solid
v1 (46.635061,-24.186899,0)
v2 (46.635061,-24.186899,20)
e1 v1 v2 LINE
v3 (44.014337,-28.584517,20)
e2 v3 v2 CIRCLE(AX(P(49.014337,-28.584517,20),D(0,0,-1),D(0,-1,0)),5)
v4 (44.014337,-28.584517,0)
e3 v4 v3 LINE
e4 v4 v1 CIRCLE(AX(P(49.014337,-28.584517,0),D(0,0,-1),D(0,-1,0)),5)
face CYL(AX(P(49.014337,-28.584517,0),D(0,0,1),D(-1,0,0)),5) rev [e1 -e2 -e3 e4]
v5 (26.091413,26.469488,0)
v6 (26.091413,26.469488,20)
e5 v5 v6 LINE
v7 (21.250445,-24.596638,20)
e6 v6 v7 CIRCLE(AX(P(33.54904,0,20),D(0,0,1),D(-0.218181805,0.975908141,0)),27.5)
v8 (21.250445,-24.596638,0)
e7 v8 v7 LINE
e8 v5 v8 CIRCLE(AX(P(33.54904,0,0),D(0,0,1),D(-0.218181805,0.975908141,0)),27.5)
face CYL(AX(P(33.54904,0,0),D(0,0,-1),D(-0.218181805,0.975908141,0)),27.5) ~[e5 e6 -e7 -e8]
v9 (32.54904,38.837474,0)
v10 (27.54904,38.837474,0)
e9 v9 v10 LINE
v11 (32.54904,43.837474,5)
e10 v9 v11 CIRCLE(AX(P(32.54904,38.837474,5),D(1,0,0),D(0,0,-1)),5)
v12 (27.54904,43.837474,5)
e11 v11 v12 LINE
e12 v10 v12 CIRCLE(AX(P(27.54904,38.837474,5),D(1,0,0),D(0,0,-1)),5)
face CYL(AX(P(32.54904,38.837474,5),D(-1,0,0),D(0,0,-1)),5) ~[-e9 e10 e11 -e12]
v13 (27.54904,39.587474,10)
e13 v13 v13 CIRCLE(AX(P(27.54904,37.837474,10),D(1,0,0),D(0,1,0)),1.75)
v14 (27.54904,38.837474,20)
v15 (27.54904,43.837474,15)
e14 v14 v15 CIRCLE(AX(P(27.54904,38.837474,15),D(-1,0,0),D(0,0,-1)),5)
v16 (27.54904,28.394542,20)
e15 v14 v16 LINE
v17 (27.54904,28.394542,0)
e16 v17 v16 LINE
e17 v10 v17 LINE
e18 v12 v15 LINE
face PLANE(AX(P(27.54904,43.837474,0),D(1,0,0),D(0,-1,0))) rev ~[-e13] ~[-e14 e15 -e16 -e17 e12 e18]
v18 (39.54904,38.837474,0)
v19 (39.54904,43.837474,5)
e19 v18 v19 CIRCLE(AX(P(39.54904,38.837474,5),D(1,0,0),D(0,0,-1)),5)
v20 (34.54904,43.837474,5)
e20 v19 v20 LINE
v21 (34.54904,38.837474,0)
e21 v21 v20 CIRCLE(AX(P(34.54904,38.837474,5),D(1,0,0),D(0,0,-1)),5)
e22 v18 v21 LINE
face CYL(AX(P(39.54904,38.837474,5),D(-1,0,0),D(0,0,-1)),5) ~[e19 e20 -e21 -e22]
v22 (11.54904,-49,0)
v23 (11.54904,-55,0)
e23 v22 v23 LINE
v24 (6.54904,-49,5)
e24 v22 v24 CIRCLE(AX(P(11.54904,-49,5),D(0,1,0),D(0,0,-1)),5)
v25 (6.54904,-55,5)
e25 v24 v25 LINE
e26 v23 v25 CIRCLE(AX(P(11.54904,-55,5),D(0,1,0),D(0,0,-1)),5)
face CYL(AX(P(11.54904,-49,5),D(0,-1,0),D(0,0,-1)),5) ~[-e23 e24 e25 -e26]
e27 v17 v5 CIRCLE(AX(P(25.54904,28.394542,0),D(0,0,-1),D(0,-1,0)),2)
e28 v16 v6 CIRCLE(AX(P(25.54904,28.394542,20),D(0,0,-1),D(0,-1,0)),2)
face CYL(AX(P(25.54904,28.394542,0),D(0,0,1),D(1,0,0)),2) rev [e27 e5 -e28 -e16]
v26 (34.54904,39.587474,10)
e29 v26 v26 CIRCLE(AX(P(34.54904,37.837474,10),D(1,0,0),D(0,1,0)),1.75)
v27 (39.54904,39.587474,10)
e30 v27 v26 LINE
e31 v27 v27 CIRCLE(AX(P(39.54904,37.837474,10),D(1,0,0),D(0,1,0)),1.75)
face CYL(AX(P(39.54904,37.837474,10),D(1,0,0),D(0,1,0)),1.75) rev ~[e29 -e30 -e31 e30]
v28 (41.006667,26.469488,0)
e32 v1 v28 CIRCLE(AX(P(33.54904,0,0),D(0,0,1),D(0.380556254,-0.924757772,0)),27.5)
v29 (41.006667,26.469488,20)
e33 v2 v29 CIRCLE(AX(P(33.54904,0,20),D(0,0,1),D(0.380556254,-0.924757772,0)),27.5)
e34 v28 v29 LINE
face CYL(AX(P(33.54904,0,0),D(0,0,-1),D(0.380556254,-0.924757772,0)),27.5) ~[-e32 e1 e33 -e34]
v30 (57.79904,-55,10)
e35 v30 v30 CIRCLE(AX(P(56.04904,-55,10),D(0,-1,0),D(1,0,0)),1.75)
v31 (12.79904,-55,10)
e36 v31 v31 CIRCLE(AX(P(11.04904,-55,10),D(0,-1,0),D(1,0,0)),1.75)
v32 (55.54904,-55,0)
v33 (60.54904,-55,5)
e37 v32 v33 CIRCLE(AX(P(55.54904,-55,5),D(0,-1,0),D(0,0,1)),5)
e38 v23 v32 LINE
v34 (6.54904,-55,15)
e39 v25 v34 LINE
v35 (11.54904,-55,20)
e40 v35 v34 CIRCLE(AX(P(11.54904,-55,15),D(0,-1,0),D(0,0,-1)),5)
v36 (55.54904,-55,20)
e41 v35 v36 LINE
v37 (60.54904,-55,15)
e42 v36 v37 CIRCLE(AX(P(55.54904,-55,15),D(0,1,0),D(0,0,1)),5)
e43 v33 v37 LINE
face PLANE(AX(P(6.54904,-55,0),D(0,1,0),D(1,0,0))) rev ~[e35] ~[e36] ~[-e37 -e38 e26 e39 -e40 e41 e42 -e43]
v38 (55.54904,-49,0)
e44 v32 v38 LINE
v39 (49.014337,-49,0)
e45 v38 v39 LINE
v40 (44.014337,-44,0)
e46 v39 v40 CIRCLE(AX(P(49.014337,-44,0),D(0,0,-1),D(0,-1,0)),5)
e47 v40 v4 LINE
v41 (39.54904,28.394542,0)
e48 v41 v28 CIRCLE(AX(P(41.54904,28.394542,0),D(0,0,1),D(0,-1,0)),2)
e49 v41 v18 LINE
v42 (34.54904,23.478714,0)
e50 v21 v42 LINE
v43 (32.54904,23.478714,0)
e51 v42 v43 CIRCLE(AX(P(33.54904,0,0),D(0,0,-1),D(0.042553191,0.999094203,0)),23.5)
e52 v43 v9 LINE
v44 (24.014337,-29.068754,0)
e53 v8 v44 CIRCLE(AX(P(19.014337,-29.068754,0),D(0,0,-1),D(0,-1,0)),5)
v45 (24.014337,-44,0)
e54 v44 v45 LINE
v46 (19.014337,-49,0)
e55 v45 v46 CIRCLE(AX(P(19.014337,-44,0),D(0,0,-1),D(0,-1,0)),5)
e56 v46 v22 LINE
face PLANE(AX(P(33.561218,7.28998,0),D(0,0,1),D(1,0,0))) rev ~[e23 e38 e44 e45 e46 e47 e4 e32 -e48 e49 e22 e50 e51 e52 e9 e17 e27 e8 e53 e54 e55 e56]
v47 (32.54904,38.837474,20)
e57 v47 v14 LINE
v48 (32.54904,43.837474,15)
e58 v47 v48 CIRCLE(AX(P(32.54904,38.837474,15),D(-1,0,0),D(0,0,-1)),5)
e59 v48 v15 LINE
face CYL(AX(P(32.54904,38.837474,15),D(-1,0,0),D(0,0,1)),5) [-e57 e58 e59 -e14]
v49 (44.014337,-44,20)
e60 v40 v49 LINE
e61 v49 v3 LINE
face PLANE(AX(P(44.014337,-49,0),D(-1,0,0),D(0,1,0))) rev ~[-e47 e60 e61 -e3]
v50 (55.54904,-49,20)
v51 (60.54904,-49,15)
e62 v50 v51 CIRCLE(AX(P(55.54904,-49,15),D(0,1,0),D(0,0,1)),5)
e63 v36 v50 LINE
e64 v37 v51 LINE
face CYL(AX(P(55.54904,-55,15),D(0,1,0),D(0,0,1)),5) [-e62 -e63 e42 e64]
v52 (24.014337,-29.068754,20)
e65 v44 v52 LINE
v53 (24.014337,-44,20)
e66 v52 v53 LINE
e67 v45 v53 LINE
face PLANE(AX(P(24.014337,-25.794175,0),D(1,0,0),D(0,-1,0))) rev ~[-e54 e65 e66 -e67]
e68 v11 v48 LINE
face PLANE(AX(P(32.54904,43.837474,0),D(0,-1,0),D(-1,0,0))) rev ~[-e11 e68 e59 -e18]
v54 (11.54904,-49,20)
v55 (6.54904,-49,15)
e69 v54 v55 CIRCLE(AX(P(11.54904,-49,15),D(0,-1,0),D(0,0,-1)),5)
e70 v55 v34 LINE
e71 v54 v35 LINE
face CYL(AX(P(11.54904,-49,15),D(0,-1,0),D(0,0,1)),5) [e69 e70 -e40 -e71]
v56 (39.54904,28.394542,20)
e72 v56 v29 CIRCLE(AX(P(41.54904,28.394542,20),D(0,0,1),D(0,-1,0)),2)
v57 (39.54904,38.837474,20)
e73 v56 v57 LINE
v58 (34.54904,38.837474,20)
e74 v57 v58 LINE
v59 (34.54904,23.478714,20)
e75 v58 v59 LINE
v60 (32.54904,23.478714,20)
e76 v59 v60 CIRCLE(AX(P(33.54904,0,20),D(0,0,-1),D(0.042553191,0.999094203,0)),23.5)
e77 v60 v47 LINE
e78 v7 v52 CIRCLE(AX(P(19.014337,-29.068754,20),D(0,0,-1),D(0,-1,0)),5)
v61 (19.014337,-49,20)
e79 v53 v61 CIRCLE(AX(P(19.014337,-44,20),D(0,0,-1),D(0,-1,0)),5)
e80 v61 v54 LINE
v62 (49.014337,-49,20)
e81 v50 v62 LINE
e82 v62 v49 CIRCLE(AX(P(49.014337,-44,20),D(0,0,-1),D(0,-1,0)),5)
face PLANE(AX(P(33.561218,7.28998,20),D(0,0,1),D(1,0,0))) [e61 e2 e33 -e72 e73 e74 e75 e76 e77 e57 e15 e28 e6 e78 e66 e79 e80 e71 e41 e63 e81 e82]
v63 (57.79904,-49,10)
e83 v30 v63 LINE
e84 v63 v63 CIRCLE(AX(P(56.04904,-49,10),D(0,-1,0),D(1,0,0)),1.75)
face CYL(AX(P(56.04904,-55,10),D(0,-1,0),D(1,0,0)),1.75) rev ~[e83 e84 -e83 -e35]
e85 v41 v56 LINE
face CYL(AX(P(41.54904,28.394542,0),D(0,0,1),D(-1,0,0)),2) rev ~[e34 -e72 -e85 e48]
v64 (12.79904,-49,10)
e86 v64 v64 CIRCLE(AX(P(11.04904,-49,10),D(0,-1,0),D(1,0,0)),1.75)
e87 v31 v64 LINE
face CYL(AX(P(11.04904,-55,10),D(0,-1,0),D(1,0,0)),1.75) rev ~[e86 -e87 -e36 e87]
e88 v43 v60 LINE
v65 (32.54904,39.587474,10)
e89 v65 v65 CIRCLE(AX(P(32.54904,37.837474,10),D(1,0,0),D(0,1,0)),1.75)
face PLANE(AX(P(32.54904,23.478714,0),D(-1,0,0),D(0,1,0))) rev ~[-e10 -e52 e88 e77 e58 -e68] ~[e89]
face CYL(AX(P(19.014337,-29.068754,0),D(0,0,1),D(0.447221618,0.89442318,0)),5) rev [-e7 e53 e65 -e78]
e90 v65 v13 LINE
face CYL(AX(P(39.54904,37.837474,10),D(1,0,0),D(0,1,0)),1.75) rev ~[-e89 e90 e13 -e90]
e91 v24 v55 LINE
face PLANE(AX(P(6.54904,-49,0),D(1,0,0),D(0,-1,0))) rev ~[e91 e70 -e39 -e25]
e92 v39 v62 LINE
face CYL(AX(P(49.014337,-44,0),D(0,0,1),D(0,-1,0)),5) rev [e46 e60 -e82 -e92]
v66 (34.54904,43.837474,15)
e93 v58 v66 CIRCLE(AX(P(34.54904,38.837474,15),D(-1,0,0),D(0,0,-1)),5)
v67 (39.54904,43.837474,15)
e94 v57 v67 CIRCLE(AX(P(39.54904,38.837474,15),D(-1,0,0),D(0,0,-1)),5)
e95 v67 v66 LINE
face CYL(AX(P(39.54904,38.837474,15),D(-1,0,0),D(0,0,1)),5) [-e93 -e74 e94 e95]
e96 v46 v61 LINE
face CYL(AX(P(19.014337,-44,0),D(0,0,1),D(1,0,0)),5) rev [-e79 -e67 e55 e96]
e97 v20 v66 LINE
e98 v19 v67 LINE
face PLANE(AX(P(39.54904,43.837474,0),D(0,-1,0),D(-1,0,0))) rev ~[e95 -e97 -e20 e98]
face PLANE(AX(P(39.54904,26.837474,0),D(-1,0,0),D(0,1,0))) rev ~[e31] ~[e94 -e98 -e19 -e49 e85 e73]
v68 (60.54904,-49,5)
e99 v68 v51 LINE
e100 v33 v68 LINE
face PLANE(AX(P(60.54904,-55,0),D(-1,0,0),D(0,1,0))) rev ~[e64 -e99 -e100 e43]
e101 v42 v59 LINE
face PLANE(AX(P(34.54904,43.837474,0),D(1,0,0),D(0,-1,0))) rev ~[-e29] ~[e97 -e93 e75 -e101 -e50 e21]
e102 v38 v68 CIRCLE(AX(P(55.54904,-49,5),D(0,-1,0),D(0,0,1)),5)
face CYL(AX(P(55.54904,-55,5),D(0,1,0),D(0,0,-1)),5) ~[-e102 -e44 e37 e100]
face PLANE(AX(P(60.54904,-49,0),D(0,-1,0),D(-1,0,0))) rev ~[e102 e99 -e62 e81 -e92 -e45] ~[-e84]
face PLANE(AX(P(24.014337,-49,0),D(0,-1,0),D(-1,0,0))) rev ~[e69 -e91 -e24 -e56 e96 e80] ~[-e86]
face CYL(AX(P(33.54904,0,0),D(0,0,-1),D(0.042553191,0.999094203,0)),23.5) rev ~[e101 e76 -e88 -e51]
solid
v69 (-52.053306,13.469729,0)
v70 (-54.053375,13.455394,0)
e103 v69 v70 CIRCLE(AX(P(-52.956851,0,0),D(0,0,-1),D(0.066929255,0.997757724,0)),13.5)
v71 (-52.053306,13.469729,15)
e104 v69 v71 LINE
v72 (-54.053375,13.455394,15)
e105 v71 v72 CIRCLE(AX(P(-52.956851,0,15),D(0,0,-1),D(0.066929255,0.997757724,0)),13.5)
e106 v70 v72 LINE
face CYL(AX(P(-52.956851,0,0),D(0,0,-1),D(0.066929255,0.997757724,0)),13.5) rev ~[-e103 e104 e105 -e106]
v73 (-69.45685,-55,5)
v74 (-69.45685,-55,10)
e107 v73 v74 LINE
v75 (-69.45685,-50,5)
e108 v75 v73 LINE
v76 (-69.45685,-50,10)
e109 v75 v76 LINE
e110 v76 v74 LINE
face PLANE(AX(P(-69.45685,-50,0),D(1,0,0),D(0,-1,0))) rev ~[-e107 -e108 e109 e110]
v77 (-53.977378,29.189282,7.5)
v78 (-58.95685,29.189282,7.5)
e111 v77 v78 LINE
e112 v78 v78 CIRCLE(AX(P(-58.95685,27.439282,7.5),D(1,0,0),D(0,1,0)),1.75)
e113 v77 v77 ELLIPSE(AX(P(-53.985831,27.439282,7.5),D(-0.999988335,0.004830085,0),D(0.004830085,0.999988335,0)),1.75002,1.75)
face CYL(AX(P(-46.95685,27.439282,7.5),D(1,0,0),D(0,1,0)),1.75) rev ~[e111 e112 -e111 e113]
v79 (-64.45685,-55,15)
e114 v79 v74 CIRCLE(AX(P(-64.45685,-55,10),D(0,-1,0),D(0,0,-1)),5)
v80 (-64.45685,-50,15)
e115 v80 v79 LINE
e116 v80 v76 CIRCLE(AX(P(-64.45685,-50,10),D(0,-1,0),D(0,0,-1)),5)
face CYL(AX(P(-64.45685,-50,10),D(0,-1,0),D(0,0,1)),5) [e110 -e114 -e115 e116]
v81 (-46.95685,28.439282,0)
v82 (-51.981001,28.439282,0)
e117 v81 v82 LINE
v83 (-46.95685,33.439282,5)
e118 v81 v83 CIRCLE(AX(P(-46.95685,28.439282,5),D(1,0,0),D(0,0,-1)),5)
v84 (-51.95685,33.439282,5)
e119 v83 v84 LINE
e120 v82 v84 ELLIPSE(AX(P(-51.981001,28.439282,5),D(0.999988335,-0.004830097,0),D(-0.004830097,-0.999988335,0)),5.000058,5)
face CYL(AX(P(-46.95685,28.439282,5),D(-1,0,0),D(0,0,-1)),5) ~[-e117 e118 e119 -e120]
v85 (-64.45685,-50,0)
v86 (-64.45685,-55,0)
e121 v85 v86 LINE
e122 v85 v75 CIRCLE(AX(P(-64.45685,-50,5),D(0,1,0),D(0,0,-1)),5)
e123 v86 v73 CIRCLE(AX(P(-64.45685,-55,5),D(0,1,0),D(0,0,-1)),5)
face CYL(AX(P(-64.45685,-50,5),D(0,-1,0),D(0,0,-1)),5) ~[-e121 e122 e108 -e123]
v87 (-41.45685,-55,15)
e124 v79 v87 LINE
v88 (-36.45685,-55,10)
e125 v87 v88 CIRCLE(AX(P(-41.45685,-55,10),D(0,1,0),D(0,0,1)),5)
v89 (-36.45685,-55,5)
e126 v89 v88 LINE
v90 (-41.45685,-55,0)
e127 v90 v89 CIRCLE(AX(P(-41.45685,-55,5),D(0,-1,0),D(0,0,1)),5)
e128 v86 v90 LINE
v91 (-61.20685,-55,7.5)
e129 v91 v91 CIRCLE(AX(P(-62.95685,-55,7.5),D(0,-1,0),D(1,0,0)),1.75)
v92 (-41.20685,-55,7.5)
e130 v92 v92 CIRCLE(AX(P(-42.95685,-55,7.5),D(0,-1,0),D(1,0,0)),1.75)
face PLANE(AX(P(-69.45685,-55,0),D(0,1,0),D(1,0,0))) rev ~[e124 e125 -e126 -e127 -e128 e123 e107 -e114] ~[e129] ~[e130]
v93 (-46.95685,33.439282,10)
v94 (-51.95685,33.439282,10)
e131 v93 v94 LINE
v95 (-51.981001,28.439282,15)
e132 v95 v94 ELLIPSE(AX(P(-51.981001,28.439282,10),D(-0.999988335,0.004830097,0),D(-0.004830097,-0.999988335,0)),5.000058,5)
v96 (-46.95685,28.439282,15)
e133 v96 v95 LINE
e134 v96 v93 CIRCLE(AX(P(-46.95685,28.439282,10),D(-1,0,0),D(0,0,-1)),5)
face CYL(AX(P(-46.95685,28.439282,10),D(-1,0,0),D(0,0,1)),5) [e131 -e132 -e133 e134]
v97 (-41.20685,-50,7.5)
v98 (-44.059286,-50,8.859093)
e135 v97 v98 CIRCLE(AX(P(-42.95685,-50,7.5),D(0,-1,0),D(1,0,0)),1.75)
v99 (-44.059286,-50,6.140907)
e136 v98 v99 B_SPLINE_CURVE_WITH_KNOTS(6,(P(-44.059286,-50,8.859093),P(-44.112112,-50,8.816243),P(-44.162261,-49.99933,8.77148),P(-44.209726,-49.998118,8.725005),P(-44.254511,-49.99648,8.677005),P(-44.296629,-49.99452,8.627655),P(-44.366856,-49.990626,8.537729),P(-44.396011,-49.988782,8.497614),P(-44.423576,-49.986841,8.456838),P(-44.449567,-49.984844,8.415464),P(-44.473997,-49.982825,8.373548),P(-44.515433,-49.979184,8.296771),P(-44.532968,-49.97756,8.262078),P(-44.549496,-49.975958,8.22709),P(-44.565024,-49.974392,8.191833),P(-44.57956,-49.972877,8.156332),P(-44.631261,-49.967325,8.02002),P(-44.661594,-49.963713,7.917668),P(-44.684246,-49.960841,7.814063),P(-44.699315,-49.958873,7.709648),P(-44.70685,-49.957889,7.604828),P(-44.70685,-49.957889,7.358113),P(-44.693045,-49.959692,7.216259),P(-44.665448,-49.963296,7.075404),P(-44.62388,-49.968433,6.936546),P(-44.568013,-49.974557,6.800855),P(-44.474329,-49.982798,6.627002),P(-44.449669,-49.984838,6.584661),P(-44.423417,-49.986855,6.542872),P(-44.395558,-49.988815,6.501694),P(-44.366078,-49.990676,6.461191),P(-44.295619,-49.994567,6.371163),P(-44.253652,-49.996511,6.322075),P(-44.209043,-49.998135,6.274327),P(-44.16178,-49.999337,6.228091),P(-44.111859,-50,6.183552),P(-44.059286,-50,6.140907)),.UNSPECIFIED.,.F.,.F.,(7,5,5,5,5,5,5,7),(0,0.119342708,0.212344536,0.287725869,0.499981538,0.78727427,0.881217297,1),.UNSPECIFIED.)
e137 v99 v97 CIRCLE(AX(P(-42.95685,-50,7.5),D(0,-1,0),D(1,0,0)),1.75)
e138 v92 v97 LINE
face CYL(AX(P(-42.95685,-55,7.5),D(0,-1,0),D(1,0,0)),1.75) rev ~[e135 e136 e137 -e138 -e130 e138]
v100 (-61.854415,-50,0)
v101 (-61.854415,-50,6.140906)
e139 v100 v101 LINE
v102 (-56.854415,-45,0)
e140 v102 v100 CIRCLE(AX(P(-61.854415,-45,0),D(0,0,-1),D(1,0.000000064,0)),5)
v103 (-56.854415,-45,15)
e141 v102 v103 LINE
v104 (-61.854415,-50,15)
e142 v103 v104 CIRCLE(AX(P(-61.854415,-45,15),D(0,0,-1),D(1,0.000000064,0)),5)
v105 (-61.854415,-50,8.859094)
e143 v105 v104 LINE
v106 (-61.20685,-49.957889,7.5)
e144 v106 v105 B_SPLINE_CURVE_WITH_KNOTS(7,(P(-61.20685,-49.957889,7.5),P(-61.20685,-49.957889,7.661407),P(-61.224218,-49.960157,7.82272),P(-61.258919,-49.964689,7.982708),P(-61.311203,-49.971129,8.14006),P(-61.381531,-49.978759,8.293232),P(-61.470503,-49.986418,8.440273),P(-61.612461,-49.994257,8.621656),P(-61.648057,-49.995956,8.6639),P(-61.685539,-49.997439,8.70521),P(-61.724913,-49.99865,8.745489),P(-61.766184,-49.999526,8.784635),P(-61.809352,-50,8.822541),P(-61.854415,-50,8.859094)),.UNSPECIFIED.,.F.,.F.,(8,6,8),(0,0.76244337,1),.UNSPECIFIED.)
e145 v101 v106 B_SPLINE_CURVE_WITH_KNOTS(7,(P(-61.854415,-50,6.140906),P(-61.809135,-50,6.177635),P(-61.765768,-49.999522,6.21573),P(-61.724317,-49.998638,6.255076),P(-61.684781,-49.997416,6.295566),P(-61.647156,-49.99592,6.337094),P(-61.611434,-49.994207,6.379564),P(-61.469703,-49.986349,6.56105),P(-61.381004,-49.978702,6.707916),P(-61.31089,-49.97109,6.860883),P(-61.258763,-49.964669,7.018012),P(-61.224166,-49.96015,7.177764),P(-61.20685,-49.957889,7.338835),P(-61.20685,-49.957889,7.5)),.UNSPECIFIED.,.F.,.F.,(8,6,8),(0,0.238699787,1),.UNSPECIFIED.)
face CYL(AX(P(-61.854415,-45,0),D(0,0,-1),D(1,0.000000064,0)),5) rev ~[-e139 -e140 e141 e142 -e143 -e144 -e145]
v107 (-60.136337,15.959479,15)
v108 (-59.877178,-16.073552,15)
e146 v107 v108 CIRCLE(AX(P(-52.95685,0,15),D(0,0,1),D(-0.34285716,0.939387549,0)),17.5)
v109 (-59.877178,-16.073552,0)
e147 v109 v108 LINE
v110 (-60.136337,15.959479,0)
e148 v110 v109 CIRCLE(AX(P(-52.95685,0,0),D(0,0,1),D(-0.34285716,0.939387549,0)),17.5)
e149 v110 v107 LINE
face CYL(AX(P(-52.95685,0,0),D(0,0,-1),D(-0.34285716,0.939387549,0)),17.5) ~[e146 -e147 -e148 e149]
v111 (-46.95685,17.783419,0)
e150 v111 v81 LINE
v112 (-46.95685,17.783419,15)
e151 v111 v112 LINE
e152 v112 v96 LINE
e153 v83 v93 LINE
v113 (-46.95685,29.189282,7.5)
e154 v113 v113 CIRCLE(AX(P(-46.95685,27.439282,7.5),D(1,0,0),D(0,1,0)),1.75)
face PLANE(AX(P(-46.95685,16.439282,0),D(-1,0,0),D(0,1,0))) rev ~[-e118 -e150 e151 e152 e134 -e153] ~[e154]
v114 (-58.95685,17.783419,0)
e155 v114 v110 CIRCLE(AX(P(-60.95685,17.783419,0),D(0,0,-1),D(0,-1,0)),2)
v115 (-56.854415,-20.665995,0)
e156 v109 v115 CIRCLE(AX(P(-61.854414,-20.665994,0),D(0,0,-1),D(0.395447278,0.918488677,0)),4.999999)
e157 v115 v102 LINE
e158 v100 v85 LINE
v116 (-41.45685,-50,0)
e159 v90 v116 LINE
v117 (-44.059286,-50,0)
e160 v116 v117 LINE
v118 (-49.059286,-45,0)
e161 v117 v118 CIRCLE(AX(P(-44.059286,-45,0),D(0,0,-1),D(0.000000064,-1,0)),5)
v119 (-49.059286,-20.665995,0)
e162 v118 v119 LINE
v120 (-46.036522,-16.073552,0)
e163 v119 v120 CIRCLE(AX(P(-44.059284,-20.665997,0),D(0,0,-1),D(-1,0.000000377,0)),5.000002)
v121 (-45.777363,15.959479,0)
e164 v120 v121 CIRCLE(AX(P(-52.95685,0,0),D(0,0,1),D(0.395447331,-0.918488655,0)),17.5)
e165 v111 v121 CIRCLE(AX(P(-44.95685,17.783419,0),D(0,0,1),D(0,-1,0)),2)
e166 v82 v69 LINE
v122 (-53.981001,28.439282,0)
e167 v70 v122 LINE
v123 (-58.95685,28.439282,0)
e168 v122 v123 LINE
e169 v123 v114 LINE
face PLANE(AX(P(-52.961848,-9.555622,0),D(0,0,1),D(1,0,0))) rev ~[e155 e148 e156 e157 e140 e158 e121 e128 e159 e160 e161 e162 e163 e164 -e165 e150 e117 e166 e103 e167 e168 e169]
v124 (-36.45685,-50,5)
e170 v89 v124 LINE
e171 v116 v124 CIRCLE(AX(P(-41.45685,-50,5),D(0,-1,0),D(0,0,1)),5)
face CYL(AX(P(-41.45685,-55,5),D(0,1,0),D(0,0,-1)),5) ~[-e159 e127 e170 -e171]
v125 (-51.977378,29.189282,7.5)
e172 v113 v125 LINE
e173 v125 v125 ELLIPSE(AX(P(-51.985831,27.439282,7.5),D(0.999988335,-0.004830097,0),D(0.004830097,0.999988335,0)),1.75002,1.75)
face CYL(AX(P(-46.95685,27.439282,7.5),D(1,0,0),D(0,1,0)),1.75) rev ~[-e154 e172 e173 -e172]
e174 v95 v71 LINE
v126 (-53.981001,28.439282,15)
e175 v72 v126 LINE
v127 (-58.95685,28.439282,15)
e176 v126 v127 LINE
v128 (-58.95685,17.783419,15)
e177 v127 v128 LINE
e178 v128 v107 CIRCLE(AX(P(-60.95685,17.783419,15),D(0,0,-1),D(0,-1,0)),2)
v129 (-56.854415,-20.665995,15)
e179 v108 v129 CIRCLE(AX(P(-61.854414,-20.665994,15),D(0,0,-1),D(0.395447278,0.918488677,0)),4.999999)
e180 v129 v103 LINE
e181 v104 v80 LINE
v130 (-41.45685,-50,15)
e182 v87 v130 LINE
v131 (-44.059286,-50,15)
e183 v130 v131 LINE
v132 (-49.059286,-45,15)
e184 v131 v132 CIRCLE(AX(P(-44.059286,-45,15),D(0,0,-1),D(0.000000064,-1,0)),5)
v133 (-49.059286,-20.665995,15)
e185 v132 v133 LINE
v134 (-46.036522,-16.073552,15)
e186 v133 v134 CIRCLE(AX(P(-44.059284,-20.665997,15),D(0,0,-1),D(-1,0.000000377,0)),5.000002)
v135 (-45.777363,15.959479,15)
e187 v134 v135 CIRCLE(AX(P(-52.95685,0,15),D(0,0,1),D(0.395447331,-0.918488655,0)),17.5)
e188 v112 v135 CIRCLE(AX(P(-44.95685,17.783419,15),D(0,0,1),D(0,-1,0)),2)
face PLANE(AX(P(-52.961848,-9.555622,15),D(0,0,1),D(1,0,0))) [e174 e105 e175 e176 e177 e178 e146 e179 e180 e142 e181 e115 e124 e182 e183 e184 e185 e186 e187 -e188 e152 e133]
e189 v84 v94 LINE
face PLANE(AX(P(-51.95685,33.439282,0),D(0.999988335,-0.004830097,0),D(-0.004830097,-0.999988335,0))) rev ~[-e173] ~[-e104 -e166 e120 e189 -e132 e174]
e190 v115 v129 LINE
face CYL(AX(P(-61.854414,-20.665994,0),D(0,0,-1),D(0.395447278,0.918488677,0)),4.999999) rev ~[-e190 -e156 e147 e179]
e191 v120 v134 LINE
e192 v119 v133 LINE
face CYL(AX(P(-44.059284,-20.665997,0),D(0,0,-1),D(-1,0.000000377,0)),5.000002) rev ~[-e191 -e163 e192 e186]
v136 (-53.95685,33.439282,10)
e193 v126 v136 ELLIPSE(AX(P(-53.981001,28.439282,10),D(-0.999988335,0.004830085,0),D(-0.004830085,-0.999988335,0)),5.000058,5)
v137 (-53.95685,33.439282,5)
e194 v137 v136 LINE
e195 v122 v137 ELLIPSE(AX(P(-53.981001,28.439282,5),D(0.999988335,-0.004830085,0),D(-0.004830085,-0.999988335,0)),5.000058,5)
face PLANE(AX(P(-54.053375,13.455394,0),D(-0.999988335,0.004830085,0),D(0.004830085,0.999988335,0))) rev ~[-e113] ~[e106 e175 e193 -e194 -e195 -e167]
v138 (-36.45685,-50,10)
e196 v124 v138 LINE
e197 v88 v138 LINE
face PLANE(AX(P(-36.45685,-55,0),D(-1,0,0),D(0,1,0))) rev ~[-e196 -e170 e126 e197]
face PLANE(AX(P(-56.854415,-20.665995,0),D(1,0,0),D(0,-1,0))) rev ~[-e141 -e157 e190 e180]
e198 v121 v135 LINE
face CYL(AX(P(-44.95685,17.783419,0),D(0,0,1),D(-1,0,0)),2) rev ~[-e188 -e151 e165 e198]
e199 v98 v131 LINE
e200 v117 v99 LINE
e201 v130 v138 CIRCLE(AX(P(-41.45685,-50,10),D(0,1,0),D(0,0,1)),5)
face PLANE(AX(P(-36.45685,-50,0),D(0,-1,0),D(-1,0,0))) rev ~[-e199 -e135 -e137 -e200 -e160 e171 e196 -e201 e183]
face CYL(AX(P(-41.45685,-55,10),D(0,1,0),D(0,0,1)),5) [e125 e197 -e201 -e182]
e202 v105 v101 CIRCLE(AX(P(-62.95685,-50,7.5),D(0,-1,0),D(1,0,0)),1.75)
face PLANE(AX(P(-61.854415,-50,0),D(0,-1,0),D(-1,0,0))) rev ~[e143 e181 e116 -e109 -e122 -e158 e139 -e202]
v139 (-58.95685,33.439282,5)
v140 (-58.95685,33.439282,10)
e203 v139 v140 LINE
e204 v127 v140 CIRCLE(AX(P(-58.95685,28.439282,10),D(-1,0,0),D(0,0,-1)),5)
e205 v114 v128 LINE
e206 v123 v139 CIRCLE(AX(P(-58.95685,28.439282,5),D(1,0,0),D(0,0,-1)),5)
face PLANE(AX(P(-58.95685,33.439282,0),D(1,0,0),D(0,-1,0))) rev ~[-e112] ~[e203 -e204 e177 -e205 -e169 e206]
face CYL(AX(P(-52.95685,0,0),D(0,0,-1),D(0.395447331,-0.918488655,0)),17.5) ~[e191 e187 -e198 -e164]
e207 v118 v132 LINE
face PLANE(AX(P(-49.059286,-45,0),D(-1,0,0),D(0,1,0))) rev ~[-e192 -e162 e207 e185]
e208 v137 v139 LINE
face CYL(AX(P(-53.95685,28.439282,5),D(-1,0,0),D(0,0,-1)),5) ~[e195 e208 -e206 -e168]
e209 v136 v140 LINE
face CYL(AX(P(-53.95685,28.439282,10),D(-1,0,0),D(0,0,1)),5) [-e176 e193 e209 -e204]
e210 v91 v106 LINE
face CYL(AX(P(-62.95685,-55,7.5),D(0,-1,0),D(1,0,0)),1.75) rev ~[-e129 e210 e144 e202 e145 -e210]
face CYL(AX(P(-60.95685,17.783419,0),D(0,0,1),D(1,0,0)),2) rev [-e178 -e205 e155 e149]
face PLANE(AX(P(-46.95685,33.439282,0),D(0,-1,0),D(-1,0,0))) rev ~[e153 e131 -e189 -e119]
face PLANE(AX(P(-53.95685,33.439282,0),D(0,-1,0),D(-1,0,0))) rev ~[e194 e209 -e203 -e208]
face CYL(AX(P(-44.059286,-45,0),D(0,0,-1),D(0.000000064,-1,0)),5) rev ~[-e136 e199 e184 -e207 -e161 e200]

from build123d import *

# Parameters (mm, degrees)
F1_DEPTH  = 15
F2_R      = 1.75
F3_DEPTH  = 25
F4_R      = 1.75
F5_DEPTH  = 25
F6_R      = 5
F8_DEPTH  = 20
F9_R      = 1.75
F10_DEPTH = 25
F11_R     = 1.75
F12_DEPTH = 25
F13_R     = 5
F14_R     = 2
F14_2_R   = 2
F15_R     = 5


with BuildPart() as f1:
    # F0 (on Top) → F1 (new body)
    with BuildSketch(Plane.XY):
        with BuildLine():
            ThreePointArc((-52.053306, 13.469729), (-52.860094, -13.499653), (-54.053375, 13.455394))
            Line((-54.053375, 13.455394), (-53.95685, 33.439282))
            Line((-53.95685, 33.439282), (-58.95685, 33.439282))
            Line((-58.95685, 33.439282), (-58.95685, 16.439282))
            ThreePointArc((-58.95685, 16.439282), (-70.449843, 0.495167), (-59.877178, -16.073552))
            ThreePointArc((-59.877178, -16.073552), (-57.677922, -17.917012), (-56.854415, -20.665995))
            Line((-56.854415, -20.665995), (-56.854415, -45))
            ThreePointArc((-56.854415, -45), (-58.318881, -48.535534), (-61.854415, -50))
            Line((-61.854415, -50), (-69.45685, -50))
            Line((-69.45685, -50), (-69.45685, -55))
            Line((-69.45685, -55), (-36.45685, -55))
            Line((-36.45685, -55), (-36.45685, -50))
            Line((-36.45685, -50), (-44.059286, -50))
            ThreePointArc((-44.059286, -50), (-47.59482, -48.535534), (-49.059286, -45))
            Line((-49.059286, -45), (-49.059286, -20.665995))
            ThreePointArc((-49.059286, -20.665995), (-48.235778, -17.917012), (-46.036522, -16.073552))
            ThreePointArc((-46.036522, -16.073552), (-35.463857, 0.495167), (-46.95685, 16.439282))
            Line((-46.95685, 16.439282), (-46.95685, 33.439282))
            Line((-46.95685, 33.439282), (-51.95685, 33.439282))
            Line((-51.95685, 33.439282), (-52.053306, 13.469729))
        make_face()
    extrude(amount=F1_DEPTH)

    # F2 (on face) → F3 (cut)
    with BuildSketch(Plane.XZ.offset(55)):
        with Locations((-62.95685, 7.5)):
            Circle(F2_R)
        with Locations((-42.95685, 7.5)):
            Circle(F2_R)
    extrude(amount=-F3_DEPTH, mode=Mode.SUBTRACT)

    # F4 (on face) → F5 (cut)
    with BuildSketch(Plane.YZ.offset(-46.95685)):
        with Locations((27.439282, 7.5)):
            Circle(F4_R)
    extrude(amount=-F5_DEPTH, mode=Mode.SUBTRACT)

    # F6
    f6_edges = [f1.edges().sort_by_distance(p)[0] for p in [
        (-49.45685, 33.439282, 15),
        (-56.45685, 33.439282, 15),
        (-49.45685, 33.439282, 0),
        (-56.45685, 33.439282, 0),
        (-36.45685, -52.5, 15),
        (-36.45685, -52.5, 0),
        (-69.45685, -52.5, 15),
        (-69.45685, -52.5, 0),
    ]]
    fillet(f6_edges, radius=F6_R)

    # F14#2
    f14_2_edges = [f1.edges().sort_by_distance(p)[0] for p in [
        (-58.95685, 16.439282, 7.5),
        (-46.95685, 16.439282, 7.5),
    ]]
    fillet(f14_2_edges, radius=F14_2_R)


with BuildPart() as f8:
    # F7 (on Top) → F8 (new body)
    with BuildSketch(Plane.XY):
        with BuildLine():
            ThreePointArc((34.54904, 23.478714), (33.54904, -23.5), (32.54904, 23.478714))
            Line((32.54904, 23.478714), (32.54904, 43.837474))
            Line((32.54904, 43.837474), (27.54904, 43.837474))
            Line((27.54904, 43.837474), (27.54904, 26.837474))
            ThreePointArc((27.54904, 26.837474), (6.110848, 1.842729), (24.014337, -25.794175))
            ThreePointArc((24.014337, -25.794175), (34.048544, -27.495463), (44.014337, -25.430839))
            ThreePointArc((44.014337, -25.430839), (60.949234, 2.340807), (39.54904, 26.837474))
            Line((39.54904, 26.837474), (39.54904, 43.837474))
            Line((39.54904, 43.837474), (34.54904, 43.837474))
            Line((34.54904, 43.837474), (34.54904, 23.478714))
        make_face()
        with BuildLine():
            ThreePointArc((44.014337, -25.430839), (34.048544, -27.495463), (24.014337, -25.794175))
            Line((24.014337, -25.794175), (24.014337, -49))
            Line((24.014337, -49), (6.54904, -49))
            Line((6.54904, -49), (6.54904, -55))
            Line((6.54904, -55), (60.54904, -55))
            Line((60.54904, -55), (60.54904, -49))
            Line((60.54904, -49), (44.014337, -49))
            Line((44.014337, -49), (44.014337, -25.430839))
        make_face()
    extrude(amount=F8_DEPTH)

    # F9 (on face) → F10 (cut)
    with BuildSketch(Plane.YZ.offset(39.54904)):
        with Locations((37.837474, 10)):
            Circle(F9_R)
    extrude(amount=-F10_DEPTH, mode=Mode.SUBTRACT)

    # F11 (on face) → F12 (cut)
    with BuildSketch(Plane.XZ.offset(55)):
        with Locations((56.04904, 10)):
            Circle(F11_R)
        with Locations((11.04904, 10)):
            Circle(F11_R)
    extrude(amount=-F12_DEPTH, mode=Mode.SUBTRACT)

    # F13
    f13_edges = [f8.edges().sort_by_distance(p)[0] for p in [
        (44.014337, -49, 10),
        (44.014337, -25.430839, 10),
        (60.54904, -52, 20),
        (37.04904, 43.837474, 20),
        (30.04904, 43.837474, 20),
        (60.54904, -52, 0),
        (37.04904, 43.837474, 0),
        (30.04904, 43.837474, 0),
        (6.54904, -52, 0),
        (6.54904, -52, 20),
        (24.014337, -25.794175, 10),
    ]]
    fillet(f13_edges, radius=F13_R)

    # F14
    f14_edges = [f8.edges().sort_by_distance(p)[0] for p in [
        (27.54904, 26.837474, 10),
        (39.54904, 26.837474, 10),
    ]]
    fillet(f14_edges, radius=F14_R)

    # F15
    f15_edges = [f8.edges().sort_by_distance(p)[0] for p in [
        (24.014337, -49, 10),
    ]]
    fillet(f15_edges, radius=F15_R)


solid = Compound([f1.part, f8.part])
